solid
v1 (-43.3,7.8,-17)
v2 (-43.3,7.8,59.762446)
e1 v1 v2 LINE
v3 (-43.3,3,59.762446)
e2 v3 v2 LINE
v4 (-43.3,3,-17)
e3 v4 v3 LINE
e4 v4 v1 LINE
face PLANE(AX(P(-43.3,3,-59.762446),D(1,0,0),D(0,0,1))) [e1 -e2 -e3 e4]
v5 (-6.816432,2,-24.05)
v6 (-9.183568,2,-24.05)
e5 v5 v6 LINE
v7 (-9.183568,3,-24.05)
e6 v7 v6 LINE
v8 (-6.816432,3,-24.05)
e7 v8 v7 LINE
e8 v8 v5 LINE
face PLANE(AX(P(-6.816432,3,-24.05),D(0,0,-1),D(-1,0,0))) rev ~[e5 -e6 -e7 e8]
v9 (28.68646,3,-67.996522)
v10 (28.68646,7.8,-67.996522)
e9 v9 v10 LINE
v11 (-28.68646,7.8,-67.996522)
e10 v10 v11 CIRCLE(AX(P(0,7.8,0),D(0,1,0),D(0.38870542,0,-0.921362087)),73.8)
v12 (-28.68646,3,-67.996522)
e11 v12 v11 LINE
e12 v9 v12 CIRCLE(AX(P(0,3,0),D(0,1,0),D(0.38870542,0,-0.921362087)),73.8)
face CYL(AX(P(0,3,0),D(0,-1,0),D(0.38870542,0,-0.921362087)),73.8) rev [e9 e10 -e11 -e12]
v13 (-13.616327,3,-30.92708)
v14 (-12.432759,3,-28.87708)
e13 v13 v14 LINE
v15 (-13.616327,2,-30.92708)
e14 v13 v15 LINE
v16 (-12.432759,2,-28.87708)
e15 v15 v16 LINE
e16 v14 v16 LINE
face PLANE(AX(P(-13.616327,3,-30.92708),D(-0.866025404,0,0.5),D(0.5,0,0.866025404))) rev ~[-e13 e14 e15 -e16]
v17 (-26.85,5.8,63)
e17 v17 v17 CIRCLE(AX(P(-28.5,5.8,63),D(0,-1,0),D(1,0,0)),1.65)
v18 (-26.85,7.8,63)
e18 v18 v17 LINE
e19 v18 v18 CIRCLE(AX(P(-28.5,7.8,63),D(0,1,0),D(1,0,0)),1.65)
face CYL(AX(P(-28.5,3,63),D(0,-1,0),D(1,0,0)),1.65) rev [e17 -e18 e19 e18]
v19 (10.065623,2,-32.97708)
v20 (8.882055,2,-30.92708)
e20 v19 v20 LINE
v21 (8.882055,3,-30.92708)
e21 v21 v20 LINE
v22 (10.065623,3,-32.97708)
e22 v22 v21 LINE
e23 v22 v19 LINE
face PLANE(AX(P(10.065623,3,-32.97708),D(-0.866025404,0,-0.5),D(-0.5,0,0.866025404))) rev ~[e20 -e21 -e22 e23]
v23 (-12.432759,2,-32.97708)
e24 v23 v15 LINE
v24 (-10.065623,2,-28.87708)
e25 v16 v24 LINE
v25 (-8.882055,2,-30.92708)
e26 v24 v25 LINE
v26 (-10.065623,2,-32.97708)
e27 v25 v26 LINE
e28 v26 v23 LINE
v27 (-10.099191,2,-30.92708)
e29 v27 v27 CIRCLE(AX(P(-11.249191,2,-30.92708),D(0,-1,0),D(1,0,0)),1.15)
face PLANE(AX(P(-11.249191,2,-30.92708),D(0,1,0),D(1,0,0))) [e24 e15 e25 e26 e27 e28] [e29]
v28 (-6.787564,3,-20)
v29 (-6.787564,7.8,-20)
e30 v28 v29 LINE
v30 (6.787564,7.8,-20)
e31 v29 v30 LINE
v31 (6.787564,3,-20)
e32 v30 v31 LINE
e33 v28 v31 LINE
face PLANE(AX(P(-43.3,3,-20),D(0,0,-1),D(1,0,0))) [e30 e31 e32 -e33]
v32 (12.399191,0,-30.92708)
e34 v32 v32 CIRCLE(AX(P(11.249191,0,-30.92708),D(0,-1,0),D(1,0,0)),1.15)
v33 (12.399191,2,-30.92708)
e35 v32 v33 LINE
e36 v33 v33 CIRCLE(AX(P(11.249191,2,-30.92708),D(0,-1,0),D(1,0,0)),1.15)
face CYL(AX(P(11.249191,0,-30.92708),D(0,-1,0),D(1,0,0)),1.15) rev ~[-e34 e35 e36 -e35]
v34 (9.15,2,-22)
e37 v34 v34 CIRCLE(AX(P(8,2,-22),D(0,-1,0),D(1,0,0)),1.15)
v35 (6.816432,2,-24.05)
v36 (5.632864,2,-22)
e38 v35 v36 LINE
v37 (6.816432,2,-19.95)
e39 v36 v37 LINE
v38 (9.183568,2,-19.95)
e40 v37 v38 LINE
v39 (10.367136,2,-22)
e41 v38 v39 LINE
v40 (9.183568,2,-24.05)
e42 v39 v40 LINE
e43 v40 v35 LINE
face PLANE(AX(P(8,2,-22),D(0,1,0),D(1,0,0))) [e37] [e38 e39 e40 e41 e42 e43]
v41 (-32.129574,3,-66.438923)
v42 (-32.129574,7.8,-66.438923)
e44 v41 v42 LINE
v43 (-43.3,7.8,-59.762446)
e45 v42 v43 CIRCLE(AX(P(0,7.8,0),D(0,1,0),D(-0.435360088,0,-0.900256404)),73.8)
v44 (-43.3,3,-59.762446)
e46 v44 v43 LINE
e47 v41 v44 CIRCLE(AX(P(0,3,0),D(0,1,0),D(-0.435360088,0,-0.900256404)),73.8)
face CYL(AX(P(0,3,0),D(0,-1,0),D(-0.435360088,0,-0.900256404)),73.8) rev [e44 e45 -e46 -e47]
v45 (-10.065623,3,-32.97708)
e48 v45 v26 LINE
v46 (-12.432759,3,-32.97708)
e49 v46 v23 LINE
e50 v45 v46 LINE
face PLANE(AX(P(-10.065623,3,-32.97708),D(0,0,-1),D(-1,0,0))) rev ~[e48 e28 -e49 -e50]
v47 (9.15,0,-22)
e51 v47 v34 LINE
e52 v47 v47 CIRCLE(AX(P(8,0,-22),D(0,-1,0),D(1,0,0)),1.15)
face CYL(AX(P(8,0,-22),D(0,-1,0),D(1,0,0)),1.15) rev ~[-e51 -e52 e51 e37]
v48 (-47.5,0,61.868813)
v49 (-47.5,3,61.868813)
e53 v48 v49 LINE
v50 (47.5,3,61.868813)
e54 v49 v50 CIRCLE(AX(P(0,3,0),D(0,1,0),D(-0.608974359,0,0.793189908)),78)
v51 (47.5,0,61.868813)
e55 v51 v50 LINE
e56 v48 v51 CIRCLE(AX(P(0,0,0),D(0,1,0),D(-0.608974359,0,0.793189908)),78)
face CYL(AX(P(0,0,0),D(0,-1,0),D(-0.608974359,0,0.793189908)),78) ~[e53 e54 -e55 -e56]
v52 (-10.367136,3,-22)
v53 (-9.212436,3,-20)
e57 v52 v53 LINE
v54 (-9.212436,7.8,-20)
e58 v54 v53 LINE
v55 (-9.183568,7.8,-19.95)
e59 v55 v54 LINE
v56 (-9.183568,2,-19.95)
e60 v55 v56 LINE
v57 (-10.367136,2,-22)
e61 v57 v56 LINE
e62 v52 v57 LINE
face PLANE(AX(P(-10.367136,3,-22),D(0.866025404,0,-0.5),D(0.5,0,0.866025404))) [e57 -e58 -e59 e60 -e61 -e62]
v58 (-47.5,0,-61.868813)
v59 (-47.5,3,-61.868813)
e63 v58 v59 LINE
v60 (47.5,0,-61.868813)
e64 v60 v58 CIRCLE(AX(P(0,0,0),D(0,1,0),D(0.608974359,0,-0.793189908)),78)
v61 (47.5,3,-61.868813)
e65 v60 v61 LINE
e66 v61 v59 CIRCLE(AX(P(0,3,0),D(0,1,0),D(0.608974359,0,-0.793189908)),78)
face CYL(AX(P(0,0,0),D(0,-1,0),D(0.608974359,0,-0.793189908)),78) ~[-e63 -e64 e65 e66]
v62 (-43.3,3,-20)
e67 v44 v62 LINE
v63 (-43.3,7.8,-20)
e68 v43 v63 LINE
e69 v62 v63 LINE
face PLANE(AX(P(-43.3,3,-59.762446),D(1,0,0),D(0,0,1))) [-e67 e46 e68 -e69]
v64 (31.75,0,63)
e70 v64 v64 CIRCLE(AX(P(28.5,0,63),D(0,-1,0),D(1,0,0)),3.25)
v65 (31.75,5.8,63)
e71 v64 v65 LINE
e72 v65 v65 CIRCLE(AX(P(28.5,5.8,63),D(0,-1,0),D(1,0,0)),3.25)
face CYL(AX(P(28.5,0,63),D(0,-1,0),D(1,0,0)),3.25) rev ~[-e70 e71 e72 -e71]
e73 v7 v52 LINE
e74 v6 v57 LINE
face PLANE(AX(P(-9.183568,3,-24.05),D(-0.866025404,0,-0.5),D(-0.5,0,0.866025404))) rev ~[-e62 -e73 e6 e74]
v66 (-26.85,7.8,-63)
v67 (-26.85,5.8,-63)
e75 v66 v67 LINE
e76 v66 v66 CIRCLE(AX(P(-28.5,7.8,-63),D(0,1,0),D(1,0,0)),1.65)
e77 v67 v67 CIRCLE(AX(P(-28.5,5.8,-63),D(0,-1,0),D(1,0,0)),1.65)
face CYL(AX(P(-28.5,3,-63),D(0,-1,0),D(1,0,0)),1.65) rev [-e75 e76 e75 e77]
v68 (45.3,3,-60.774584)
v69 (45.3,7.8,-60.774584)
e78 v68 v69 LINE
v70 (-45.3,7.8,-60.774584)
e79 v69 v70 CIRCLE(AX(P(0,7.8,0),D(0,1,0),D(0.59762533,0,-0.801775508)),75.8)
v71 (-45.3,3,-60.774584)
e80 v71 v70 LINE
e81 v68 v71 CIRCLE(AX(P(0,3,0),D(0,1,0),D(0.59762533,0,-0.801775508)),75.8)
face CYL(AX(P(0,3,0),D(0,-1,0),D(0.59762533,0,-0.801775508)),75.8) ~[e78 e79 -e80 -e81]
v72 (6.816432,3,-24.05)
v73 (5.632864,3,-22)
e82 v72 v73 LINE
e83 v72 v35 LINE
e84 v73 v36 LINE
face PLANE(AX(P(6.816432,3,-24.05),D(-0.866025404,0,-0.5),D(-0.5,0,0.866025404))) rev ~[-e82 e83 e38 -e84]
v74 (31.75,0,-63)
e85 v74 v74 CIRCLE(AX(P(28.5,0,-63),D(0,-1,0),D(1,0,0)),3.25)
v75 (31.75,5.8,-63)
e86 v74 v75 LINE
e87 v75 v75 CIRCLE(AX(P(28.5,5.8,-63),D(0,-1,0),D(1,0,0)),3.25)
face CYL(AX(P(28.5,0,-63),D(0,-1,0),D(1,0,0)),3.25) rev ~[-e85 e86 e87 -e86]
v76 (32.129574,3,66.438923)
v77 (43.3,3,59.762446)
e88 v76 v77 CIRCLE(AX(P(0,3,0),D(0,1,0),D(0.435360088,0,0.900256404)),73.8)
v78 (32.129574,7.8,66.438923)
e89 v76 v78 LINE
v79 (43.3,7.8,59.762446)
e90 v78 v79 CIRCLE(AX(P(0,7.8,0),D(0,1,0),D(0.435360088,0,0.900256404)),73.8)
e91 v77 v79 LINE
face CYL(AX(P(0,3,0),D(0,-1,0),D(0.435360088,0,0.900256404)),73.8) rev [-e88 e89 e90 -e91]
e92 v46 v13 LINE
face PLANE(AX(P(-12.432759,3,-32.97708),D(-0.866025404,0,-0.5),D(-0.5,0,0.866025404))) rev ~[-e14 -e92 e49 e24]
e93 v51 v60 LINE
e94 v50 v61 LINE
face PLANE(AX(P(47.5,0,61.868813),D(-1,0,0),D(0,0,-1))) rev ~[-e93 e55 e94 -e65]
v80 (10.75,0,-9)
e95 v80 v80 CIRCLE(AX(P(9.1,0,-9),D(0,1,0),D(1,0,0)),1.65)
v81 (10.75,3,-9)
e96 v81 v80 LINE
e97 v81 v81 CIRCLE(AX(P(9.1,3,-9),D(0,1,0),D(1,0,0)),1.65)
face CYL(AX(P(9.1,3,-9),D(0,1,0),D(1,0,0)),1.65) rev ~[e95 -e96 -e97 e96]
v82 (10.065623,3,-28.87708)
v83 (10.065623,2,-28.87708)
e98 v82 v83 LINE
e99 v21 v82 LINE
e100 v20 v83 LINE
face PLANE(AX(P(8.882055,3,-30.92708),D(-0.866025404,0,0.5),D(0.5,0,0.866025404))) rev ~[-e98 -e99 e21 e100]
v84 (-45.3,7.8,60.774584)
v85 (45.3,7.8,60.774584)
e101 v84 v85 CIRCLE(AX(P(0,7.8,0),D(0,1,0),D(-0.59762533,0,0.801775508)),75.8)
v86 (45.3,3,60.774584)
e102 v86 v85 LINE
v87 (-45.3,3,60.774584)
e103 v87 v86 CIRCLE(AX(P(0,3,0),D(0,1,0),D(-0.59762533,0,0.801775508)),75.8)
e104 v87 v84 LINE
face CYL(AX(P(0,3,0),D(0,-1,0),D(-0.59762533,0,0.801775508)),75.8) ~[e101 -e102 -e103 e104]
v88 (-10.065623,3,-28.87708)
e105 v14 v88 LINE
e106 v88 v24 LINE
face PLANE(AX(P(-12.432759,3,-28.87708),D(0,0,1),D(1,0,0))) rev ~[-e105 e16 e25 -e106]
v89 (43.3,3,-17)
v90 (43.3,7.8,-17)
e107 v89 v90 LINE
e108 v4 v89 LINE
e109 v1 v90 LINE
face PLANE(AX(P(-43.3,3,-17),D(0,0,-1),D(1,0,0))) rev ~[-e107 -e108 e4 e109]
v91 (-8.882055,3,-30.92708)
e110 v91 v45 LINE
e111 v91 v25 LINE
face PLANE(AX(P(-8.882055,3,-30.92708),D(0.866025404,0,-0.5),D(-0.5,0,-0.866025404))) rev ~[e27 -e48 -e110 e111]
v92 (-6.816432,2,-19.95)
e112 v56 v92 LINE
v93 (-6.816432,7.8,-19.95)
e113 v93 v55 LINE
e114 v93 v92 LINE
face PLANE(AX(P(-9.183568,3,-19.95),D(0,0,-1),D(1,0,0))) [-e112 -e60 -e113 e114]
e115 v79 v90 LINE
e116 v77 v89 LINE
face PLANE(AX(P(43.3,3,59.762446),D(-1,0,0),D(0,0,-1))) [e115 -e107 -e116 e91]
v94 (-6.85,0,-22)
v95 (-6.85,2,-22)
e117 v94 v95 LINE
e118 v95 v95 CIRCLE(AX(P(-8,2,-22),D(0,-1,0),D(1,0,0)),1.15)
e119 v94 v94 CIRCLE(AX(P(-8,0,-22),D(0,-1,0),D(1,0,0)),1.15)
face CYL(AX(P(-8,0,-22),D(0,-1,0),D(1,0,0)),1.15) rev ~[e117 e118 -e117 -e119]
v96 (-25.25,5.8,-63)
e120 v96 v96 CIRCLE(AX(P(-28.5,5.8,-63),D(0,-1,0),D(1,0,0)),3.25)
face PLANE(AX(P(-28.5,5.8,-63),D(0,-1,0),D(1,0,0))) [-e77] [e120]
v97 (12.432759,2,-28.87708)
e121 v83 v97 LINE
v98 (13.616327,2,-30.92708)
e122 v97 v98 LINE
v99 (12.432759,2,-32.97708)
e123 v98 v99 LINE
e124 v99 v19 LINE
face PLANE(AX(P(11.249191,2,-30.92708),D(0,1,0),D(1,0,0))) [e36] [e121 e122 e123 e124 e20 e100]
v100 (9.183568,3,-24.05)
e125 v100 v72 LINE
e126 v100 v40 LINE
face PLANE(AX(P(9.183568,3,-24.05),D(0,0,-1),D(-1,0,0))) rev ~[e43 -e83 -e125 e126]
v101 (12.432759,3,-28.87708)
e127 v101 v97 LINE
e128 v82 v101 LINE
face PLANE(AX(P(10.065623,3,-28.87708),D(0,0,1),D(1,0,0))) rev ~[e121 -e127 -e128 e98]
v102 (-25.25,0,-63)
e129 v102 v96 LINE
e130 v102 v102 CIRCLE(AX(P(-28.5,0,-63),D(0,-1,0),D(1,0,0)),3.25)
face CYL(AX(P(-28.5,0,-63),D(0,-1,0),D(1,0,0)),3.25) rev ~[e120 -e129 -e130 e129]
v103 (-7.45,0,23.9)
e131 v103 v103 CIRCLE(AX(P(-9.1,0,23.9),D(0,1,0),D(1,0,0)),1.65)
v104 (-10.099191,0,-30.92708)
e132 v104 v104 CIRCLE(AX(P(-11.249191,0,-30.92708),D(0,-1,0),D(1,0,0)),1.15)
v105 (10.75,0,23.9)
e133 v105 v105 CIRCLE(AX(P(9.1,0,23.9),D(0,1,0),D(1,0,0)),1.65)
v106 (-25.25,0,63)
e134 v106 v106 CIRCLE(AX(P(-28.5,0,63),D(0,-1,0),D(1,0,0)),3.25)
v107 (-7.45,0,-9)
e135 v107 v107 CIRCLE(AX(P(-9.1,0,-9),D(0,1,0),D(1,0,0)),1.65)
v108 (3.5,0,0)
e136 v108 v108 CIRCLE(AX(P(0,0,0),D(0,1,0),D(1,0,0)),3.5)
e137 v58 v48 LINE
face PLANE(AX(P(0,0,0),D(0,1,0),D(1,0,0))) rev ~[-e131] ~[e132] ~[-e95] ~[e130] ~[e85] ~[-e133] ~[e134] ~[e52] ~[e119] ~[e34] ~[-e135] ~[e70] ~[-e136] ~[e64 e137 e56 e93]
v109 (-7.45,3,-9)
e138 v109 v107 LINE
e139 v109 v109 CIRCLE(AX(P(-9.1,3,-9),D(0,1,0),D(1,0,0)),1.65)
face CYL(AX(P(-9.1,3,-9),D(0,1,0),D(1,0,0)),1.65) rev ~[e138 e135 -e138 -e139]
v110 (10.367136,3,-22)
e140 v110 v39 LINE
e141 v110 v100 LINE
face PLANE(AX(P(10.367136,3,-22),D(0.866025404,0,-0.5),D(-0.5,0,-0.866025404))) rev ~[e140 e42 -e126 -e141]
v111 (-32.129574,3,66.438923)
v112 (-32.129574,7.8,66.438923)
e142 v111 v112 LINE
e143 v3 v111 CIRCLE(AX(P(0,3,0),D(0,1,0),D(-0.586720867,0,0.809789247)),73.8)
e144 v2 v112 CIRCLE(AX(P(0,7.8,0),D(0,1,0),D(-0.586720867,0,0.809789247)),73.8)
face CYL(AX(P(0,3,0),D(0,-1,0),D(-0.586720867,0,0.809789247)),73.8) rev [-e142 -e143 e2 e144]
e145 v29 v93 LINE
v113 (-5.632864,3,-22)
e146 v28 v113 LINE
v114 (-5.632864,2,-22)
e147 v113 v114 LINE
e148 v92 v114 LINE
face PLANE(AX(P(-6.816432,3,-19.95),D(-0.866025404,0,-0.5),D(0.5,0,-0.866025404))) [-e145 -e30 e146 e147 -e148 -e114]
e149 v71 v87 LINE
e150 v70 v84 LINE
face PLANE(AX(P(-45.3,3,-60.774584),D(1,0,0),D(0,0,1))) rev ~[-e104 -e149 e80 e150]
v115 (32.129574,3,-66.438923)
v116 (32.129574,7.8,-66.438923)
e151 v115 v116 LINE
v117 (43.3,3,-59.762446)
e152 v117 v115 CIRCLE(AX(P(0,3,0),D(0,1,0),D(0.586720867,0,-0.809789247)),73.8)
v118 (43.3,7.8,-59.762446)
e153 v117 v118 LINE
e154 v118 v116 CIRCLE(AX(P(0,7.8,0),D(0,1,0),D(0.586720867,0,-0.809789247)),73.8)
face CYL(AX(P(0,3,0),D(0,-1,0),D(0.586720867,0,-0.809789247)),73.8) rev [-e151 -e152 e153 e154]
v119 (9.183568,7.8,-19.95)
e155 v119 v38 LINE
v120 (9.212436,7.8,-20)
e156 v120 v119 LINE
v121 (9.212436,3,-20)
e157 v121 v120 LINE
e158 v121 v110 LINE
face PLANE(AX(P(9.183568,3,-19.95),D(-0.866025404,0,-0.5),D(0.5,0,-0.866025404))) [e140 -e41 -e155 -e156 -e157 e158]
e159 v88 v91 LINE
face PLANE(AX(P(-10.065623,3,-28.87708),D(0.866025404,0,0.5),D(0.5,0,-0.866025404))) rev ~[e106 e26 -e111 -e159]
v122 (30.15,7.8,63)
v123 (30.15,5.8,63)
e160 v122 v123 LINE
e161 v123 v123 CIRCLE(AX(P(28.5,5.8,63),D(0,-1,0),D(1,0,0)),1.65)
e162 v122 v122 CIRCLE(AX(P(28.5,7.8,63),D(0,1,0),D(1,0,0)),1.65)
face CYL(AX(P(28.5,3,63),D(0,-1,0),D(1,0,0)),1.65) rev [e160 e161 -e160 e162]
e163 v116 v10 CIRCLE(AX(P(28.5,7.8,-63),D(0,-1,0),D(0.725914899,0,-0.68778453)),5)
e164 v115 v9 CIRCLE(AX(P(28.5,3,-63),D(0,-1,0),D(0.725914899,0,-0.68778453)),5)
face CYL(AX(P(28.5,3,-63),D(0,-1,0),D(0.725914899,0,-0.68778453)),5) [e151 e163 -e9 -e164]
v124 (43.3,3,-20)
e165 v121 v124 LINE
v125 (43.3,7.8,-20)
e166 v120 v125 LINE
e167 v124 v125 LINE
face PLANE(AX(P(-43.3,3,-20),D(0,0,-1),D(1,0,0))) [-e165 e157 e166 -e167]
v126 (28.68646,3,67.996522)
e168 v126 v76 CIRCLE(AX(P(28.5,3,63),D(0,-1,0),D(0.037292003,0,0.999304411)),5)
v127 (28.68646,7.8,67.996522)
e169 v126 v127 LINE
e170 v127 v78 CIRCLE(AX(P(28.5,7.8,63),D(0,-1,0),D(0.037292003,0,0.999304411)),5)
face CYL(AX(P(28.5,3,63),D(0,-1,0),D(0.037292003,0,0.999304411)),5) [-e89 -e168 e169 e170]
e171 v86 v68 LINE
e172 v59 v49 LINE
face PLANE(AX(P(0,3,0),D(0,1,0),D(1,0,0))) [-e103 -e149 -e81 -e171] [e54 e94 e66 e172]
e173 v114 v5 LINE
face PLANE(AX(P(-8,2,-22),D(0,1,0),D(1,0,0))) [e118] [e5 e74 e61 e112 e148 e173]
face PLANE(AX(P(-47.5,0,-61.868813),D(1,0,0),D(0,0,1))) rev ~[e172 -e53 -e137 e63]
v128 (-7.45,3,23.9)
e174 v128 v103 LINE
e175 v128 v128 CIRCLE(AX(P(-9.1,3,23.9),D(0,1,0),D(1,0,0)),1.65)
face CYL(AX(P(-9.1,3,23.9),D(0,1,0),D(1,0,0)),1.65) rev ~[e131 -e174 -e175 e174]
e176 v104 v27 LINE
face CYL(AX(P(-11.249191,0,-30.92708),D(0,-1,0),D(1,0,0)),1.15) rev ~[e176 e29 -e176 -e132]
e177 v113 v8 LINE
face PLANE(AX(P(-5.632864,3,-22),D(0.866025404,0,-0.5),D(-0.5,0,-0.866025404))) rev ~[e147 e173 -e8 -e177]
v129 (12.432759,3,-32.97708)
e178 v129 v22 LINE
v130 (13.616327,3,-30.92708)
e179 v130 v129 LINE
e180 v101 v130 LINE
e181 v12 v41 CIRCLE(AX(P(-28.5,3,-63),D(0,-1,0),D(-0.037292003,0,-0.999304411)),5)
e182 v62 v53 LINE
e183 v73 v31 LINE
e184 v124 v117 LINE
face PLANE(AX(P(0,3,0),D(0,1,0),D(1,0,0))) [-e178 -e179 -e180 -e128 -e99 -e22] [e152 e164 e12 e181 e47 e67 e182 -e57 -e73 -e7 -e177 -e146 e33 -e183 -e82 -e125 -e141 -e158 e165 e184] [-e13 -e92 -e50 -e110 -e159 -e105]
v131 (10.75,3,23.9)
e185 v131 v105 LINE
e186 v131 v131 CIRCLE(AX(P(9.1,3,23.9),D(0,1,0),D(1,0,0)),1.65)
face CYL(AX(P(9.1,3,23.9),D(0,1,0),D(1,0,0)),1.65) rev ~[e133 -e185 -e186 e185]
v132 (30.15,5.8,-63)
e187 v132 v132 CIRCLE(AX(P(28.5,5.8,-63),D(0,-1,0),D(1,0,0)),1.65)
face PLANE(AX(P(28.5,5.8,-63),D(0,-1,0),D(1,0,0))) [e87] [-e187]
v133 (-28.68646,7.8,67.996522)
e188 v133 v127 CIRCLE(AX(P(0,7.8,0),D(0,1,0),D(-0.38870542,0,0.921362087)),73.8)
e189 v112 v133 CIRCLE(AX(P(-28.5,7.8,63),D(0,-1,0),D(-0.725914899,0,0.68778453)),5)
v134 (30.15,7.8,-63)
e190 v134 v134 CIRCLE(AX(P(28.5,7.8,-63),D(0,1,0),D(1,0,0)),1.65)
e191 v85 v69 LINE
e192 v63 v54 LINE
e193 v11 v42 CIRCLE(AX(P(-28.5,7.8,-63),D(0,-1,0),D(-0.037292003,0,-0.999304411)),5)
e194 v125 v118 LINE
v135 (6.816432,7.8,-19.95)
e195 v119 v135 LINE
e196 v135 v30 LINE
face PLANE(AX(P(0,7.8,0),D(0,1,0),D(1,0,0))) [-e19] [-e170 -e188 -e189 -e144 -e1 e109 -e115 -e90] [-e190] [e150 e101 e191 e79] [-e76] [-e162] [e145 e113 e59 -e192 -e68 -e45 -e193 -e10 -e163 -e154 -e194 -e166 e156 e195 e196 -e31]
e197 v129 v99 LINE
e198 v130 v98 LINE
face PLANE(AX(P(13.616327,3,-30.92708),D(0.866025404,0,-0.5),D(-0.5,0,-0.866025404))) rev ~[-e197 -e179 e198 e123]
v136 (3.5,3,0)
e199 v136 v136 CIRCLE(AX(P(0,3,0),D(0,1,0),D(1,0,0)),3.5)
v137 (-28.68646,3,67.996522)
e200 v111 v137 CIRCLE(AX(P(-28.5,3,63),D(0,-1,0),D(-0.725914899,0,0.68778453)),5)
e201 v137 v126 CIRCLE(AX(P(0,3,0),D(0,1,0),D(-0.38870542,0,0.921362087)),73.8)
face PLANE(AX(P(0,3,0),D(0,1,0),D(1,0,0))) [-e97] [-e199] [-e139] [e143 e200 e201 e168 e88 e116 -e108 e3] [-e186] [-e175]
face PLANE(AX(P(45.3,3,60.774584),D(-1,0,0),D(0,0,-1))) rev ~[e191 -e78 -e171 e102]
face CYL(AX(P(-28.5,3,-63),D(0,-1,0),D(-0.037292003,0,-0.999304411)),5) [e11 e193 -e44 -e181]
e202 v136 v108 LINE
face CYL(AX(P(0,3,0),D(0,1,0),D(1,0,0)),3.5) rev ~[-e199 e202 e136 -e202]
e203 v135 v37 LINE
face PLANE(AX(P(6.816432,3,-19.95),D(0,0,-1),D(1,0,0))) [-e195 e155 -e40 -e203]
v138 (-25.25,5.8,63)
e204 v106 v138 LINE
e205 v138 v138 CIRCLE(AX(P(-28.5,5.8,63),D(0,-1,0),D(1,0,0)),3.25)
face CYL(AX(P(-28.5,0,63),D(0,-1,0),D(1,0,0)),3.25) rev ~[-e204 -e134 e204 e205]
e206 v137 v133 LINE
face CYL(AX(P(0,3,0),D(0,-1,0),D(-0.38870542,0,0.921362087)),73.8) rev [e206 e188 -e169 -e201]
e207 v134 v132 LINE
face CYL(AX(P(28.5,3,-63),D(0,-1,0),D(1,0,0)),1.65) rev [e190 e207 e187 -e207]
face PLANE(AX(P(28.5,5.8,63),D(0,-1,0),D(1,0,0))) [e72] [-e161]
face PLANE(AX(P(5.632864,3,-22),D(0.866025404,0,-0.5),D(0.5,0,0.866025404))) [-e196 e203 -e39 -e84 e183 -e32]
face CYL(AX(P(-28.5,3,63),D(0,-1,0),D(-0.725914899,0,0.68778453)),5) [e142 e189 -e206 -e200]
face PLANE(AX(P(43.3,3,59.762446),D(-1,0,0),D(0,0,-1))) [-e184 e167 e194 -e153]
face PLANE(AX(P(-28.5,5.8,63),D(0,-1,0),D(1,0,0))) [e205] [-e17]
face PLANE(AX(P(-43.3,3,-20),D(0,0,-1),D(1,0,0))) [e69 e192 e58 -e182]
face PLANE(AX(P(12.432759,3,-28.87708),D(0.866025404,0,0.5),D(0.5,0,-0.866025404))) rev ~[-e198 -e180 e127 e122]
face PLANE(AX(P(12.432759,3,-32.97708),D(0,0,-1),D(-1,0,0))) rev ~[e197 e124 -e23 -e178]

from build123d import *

# Parameters (mm, degrees)
SKETCH_1_R               = 1.65
EXTRUDE_1_DEPTH          = 3
SKETCH_2_R               = 1.65
EXTRUDE_2_DEPTH          = 4.8
SKETCH_7_R               = 3.5
SKETCH_7_R_2             = 1.65
CUT_EXTRUDE_1_DEPTH      = 4
SKETCH_8_R               = 3.25
CUT_EXTRUDE_2_DEPTH      = 5.8
SKETCH_9_W               = 86.6
SKETCH_9_H               = 3
EXTRUDE_3_DEPTH          = 4.8
SKETCH_11_R              = 1.15
CUT_EXTRUDE_3_DEPTH      = 8.8
CUT_EXTRUDE_4_DEPTH      = 5.8
CUT_EXTRUDE_4_DEPTH_BACK = 1


with BuildPart() as part:
    # 草图1 → 凸台-拉伸1 (new body)
    with BuildSketch(Plane(origin=(0, 0, 0), x_dir=(1, 0, 0), z_dir=(0, 1, 0))):
        with BuildLine():
            Line((-47.5, 61.868812822), (-47.5, -61.868812822))
            ThreePointArc((-47.5, -61.868812822), (0, -78), (47.5, -61.868812822))
            Line((47.5, -61.868812822), (47.5, 61.868812822))
            ThreePointArc((47.5, 61.868812822), (0, 78), (-47.5, 61.868812822))
        make_face()
        with Locations((-28.5, 63)):
            Circle(SKETCH_1_R, mode=Mode.SUBTRACT)
        with Locations((28.5, 63)):
            Circle(SKETCH_1_R, mode=Mode.SUBTRACT)
        with Locations((28.5, -63)):
            Circle(SKETCH_1_R, mode=Mode.SUBTRACT)
        with Locations((-28.5, -63)):
            Circle(SKETCH_1_R, mode=Mode.SUBTRACT)
    extrude(amount=EXTRUDE_1_DEPTH)

    # 草图2 → 凸台-拉伸2 (add)
    with BuildSketch(Plane(origin=(0, 3, 0), x_dir=(1, 0, 0), z_dir=(0, 1, 0))):
        with BuildLine():
            Line((-45.3, 60.774583503), (-45.3, -60.774583503))
            ThreePointArc((-45.3, -60.774583503), (0, -75.8), (45.3, -60.774583503))
            Line((45.3, -60.774583503), (45.3, 60.774583503))
            ThreePointArc((45.3, 60.774583503), (0, 75.8), (-45.3, 60.774583503))
        make_face()
        with Locations((-28.5, -63)):
            Circle(SKETCH_2_R, mode=Mode.SUBTRACT)
        with Locations((28.5, -63)):
            Circle(SKETCH_2_R, mode=Mode.SUBTRACT)
        with Locations((28.5, 63)):
            Circle(SKETCH_2_R, mode=Mode.SUBTRACT)
        with Locations((-28.5, 63)):
            Circle(SKETCH_2_R, mode=Mode.SUBTRACT)
        with BuildLine():
            Line((-43.3, 59.762446402), (-43.3, -59.762446402))
            ThreePointArc((-43.3, -59.762446402), (-37.862237267, -63.347383443), (-32.129574495, -66.438922649))
            ThreePointArc((-32.129574495, -66.438922649), (-26.439160651, -58.444460386), (-28.686460015, -67.996522057))
            ThreePointArc((-28.686460015, -67.996522057), (0, -73.8), (28.686460015, -67.996522057))
            ThreePointArc((28.686460015, -67.996522057), (26.439160651, -58.444460386), (32.129574495, -66.438922649))
            ThreePointArc((32.129574495, -66.438922649), (37.862237267, -63.347383443), (43.3, -59.762446402))
            Line((43.3, -59.762446402), (43.3, 59.762446402))
            ThreePointArc((43.3, 59.762446402), (37.862237267, 63.347383443), (32.129574495, 66.438922649))
            ThreePointArc((32.129574495, 66.438922649), (26.439160651, 58.444460386), (28.686460015, 67.996522057))
            ThreePointArc((28.686460015, 67.996522057), (0, 73.8), (-28.686460015, 67.996522057))
            ThreePointArc((-28.686460015, 67.996522057), (-26.439160651, 58.444460386), (-32.129574495, 66.438922649))
            ThreePointArc((-32.129574495, 66.438922649), (-37.862237267, 63.347383443), (-43.3, 59.762446402))
        make_face(mode=Mode.SUBTRACT)
    extrude(amount=EXTRUDE_2_DEPTH)

    # 草图7 → 切除-拉伸1 (cut, through all)
    with BuildSketch(Plane(origin=(0, 3, 0), x_dir=(1, 0, 0), z_dir=(0, 1, 0))):
        Circle(SKETCH_7_R)
        with Locations((9.1, 9)):
            Circle(SKETCH_7_R_2)
        with Locations((-9.1, 9)):
            Circle(SKETCH_7_R_2)
        with Locations((-9.1, -23.9)):
            Circle(SKETCH_7_R_2)
        with Locations((9.1, -23.9)):
            Circle(SKETCH_7_R_2)
    extrude(amount=-CUT_EXTRUDE_1_DEPTH, mode=Mode.SUBTRACT)

    # 草图8 → 切除-拉伸2 (cut)
    with BuildSketch(Plane.XZ):
        with Locations((-28.5, -63)):
            Circle(SKETCH_8_R)
        with Locations((28.5, -63)):
            Circle(SKETCH_8_R)
        with Locations((28.5, 63)):
            Circle(SKETCH_8_R)
        with Locations((-28.5, 63)):
            Circle(SKETCH_8_R)
    extrude(amount=-CUT_EXTRUDE_2_DEPTH, mode=Mode.SUBTRACT)

    # 草图9 → 凸台-拉伸3 (add)
    with BuildSketch(Plane(origin=(0, 3, 0), x_dir=(1, 0, 0), z_dir=(0, 1, 0))):
        with Locations((0, 18.5)):
            Rectangle(SKETCH_9_W, SKETCH_9_H)
    extrude(amount=EXTRUDE_3_DEPTH)

    # 草图11 → 切除-拉伸3 (cut, through all)
    with BuildSketch(Plane.XZ):
        with Locations((-8, -22)):
            Circle(SKETCH_11_R)
        with Locations((-11.249191362, -30.927079897)):
            Circle(SKETCH_11_R)
        with Locations((11.249191362, -30.927079897)):
            Circle(SKETCH_11_R)
        with Locations((8, -22)):
            Circle(SKETCH_11_R)
    extrude(amount=-CUT_EXTRUDE_3_DEPTH, mode=Mode.SUBTRACT)

    # 草图12 → 切除-拉伸4 (cut, two sides)
    with BuildSketch(Plane(origin=(0, 3, 0), x_dir=(1, 0, 0), z_dir=(0, 1, 0))) as cut_extrude_4_sk:
        Polygon((-10.06562331, 32.977079897), (-12.432759413, 32.977079897), (-13.616327465, 30.927079897), (-12.432759413, 28.877079897), (-10.06562331, 28.877079897), (-8.882055258, 30.927079897), align=None)
        Polygon((-5.632863896, 22), (-6.816431948, 24.05), (-9.183568052, 24.05), (-10.367136104, 22), (-9.183568052, 19.95), (-6.816431948, 19.95), align=None)
        Polygon((10.367136104, 22), (9.183568052, 24.05), (6.816431948, 24.05), (5.632863896, 22), (6.816431948, 19.95), (9.183568052, 19.95), align=None)
        Polygon((12.432759413, 32.977079897), (10.06562331, 32.977079897), (8.882055258, 30.927079897), (10.06562331, 28.877079897), (12.432759413, 28.877079897), (13.616327465, 30.927079897), align=None)
    extrude(amount=CUT_EXTRUDE_4_DEPTH, mode=Mode.SUBTRACT)
    extrude(cut_extrude_4_sk.sketch, amount=-CUT_EXTRUDE_4_DEPTH_BACK, mode=Mode.SUBTRACT)


solid = part.part
